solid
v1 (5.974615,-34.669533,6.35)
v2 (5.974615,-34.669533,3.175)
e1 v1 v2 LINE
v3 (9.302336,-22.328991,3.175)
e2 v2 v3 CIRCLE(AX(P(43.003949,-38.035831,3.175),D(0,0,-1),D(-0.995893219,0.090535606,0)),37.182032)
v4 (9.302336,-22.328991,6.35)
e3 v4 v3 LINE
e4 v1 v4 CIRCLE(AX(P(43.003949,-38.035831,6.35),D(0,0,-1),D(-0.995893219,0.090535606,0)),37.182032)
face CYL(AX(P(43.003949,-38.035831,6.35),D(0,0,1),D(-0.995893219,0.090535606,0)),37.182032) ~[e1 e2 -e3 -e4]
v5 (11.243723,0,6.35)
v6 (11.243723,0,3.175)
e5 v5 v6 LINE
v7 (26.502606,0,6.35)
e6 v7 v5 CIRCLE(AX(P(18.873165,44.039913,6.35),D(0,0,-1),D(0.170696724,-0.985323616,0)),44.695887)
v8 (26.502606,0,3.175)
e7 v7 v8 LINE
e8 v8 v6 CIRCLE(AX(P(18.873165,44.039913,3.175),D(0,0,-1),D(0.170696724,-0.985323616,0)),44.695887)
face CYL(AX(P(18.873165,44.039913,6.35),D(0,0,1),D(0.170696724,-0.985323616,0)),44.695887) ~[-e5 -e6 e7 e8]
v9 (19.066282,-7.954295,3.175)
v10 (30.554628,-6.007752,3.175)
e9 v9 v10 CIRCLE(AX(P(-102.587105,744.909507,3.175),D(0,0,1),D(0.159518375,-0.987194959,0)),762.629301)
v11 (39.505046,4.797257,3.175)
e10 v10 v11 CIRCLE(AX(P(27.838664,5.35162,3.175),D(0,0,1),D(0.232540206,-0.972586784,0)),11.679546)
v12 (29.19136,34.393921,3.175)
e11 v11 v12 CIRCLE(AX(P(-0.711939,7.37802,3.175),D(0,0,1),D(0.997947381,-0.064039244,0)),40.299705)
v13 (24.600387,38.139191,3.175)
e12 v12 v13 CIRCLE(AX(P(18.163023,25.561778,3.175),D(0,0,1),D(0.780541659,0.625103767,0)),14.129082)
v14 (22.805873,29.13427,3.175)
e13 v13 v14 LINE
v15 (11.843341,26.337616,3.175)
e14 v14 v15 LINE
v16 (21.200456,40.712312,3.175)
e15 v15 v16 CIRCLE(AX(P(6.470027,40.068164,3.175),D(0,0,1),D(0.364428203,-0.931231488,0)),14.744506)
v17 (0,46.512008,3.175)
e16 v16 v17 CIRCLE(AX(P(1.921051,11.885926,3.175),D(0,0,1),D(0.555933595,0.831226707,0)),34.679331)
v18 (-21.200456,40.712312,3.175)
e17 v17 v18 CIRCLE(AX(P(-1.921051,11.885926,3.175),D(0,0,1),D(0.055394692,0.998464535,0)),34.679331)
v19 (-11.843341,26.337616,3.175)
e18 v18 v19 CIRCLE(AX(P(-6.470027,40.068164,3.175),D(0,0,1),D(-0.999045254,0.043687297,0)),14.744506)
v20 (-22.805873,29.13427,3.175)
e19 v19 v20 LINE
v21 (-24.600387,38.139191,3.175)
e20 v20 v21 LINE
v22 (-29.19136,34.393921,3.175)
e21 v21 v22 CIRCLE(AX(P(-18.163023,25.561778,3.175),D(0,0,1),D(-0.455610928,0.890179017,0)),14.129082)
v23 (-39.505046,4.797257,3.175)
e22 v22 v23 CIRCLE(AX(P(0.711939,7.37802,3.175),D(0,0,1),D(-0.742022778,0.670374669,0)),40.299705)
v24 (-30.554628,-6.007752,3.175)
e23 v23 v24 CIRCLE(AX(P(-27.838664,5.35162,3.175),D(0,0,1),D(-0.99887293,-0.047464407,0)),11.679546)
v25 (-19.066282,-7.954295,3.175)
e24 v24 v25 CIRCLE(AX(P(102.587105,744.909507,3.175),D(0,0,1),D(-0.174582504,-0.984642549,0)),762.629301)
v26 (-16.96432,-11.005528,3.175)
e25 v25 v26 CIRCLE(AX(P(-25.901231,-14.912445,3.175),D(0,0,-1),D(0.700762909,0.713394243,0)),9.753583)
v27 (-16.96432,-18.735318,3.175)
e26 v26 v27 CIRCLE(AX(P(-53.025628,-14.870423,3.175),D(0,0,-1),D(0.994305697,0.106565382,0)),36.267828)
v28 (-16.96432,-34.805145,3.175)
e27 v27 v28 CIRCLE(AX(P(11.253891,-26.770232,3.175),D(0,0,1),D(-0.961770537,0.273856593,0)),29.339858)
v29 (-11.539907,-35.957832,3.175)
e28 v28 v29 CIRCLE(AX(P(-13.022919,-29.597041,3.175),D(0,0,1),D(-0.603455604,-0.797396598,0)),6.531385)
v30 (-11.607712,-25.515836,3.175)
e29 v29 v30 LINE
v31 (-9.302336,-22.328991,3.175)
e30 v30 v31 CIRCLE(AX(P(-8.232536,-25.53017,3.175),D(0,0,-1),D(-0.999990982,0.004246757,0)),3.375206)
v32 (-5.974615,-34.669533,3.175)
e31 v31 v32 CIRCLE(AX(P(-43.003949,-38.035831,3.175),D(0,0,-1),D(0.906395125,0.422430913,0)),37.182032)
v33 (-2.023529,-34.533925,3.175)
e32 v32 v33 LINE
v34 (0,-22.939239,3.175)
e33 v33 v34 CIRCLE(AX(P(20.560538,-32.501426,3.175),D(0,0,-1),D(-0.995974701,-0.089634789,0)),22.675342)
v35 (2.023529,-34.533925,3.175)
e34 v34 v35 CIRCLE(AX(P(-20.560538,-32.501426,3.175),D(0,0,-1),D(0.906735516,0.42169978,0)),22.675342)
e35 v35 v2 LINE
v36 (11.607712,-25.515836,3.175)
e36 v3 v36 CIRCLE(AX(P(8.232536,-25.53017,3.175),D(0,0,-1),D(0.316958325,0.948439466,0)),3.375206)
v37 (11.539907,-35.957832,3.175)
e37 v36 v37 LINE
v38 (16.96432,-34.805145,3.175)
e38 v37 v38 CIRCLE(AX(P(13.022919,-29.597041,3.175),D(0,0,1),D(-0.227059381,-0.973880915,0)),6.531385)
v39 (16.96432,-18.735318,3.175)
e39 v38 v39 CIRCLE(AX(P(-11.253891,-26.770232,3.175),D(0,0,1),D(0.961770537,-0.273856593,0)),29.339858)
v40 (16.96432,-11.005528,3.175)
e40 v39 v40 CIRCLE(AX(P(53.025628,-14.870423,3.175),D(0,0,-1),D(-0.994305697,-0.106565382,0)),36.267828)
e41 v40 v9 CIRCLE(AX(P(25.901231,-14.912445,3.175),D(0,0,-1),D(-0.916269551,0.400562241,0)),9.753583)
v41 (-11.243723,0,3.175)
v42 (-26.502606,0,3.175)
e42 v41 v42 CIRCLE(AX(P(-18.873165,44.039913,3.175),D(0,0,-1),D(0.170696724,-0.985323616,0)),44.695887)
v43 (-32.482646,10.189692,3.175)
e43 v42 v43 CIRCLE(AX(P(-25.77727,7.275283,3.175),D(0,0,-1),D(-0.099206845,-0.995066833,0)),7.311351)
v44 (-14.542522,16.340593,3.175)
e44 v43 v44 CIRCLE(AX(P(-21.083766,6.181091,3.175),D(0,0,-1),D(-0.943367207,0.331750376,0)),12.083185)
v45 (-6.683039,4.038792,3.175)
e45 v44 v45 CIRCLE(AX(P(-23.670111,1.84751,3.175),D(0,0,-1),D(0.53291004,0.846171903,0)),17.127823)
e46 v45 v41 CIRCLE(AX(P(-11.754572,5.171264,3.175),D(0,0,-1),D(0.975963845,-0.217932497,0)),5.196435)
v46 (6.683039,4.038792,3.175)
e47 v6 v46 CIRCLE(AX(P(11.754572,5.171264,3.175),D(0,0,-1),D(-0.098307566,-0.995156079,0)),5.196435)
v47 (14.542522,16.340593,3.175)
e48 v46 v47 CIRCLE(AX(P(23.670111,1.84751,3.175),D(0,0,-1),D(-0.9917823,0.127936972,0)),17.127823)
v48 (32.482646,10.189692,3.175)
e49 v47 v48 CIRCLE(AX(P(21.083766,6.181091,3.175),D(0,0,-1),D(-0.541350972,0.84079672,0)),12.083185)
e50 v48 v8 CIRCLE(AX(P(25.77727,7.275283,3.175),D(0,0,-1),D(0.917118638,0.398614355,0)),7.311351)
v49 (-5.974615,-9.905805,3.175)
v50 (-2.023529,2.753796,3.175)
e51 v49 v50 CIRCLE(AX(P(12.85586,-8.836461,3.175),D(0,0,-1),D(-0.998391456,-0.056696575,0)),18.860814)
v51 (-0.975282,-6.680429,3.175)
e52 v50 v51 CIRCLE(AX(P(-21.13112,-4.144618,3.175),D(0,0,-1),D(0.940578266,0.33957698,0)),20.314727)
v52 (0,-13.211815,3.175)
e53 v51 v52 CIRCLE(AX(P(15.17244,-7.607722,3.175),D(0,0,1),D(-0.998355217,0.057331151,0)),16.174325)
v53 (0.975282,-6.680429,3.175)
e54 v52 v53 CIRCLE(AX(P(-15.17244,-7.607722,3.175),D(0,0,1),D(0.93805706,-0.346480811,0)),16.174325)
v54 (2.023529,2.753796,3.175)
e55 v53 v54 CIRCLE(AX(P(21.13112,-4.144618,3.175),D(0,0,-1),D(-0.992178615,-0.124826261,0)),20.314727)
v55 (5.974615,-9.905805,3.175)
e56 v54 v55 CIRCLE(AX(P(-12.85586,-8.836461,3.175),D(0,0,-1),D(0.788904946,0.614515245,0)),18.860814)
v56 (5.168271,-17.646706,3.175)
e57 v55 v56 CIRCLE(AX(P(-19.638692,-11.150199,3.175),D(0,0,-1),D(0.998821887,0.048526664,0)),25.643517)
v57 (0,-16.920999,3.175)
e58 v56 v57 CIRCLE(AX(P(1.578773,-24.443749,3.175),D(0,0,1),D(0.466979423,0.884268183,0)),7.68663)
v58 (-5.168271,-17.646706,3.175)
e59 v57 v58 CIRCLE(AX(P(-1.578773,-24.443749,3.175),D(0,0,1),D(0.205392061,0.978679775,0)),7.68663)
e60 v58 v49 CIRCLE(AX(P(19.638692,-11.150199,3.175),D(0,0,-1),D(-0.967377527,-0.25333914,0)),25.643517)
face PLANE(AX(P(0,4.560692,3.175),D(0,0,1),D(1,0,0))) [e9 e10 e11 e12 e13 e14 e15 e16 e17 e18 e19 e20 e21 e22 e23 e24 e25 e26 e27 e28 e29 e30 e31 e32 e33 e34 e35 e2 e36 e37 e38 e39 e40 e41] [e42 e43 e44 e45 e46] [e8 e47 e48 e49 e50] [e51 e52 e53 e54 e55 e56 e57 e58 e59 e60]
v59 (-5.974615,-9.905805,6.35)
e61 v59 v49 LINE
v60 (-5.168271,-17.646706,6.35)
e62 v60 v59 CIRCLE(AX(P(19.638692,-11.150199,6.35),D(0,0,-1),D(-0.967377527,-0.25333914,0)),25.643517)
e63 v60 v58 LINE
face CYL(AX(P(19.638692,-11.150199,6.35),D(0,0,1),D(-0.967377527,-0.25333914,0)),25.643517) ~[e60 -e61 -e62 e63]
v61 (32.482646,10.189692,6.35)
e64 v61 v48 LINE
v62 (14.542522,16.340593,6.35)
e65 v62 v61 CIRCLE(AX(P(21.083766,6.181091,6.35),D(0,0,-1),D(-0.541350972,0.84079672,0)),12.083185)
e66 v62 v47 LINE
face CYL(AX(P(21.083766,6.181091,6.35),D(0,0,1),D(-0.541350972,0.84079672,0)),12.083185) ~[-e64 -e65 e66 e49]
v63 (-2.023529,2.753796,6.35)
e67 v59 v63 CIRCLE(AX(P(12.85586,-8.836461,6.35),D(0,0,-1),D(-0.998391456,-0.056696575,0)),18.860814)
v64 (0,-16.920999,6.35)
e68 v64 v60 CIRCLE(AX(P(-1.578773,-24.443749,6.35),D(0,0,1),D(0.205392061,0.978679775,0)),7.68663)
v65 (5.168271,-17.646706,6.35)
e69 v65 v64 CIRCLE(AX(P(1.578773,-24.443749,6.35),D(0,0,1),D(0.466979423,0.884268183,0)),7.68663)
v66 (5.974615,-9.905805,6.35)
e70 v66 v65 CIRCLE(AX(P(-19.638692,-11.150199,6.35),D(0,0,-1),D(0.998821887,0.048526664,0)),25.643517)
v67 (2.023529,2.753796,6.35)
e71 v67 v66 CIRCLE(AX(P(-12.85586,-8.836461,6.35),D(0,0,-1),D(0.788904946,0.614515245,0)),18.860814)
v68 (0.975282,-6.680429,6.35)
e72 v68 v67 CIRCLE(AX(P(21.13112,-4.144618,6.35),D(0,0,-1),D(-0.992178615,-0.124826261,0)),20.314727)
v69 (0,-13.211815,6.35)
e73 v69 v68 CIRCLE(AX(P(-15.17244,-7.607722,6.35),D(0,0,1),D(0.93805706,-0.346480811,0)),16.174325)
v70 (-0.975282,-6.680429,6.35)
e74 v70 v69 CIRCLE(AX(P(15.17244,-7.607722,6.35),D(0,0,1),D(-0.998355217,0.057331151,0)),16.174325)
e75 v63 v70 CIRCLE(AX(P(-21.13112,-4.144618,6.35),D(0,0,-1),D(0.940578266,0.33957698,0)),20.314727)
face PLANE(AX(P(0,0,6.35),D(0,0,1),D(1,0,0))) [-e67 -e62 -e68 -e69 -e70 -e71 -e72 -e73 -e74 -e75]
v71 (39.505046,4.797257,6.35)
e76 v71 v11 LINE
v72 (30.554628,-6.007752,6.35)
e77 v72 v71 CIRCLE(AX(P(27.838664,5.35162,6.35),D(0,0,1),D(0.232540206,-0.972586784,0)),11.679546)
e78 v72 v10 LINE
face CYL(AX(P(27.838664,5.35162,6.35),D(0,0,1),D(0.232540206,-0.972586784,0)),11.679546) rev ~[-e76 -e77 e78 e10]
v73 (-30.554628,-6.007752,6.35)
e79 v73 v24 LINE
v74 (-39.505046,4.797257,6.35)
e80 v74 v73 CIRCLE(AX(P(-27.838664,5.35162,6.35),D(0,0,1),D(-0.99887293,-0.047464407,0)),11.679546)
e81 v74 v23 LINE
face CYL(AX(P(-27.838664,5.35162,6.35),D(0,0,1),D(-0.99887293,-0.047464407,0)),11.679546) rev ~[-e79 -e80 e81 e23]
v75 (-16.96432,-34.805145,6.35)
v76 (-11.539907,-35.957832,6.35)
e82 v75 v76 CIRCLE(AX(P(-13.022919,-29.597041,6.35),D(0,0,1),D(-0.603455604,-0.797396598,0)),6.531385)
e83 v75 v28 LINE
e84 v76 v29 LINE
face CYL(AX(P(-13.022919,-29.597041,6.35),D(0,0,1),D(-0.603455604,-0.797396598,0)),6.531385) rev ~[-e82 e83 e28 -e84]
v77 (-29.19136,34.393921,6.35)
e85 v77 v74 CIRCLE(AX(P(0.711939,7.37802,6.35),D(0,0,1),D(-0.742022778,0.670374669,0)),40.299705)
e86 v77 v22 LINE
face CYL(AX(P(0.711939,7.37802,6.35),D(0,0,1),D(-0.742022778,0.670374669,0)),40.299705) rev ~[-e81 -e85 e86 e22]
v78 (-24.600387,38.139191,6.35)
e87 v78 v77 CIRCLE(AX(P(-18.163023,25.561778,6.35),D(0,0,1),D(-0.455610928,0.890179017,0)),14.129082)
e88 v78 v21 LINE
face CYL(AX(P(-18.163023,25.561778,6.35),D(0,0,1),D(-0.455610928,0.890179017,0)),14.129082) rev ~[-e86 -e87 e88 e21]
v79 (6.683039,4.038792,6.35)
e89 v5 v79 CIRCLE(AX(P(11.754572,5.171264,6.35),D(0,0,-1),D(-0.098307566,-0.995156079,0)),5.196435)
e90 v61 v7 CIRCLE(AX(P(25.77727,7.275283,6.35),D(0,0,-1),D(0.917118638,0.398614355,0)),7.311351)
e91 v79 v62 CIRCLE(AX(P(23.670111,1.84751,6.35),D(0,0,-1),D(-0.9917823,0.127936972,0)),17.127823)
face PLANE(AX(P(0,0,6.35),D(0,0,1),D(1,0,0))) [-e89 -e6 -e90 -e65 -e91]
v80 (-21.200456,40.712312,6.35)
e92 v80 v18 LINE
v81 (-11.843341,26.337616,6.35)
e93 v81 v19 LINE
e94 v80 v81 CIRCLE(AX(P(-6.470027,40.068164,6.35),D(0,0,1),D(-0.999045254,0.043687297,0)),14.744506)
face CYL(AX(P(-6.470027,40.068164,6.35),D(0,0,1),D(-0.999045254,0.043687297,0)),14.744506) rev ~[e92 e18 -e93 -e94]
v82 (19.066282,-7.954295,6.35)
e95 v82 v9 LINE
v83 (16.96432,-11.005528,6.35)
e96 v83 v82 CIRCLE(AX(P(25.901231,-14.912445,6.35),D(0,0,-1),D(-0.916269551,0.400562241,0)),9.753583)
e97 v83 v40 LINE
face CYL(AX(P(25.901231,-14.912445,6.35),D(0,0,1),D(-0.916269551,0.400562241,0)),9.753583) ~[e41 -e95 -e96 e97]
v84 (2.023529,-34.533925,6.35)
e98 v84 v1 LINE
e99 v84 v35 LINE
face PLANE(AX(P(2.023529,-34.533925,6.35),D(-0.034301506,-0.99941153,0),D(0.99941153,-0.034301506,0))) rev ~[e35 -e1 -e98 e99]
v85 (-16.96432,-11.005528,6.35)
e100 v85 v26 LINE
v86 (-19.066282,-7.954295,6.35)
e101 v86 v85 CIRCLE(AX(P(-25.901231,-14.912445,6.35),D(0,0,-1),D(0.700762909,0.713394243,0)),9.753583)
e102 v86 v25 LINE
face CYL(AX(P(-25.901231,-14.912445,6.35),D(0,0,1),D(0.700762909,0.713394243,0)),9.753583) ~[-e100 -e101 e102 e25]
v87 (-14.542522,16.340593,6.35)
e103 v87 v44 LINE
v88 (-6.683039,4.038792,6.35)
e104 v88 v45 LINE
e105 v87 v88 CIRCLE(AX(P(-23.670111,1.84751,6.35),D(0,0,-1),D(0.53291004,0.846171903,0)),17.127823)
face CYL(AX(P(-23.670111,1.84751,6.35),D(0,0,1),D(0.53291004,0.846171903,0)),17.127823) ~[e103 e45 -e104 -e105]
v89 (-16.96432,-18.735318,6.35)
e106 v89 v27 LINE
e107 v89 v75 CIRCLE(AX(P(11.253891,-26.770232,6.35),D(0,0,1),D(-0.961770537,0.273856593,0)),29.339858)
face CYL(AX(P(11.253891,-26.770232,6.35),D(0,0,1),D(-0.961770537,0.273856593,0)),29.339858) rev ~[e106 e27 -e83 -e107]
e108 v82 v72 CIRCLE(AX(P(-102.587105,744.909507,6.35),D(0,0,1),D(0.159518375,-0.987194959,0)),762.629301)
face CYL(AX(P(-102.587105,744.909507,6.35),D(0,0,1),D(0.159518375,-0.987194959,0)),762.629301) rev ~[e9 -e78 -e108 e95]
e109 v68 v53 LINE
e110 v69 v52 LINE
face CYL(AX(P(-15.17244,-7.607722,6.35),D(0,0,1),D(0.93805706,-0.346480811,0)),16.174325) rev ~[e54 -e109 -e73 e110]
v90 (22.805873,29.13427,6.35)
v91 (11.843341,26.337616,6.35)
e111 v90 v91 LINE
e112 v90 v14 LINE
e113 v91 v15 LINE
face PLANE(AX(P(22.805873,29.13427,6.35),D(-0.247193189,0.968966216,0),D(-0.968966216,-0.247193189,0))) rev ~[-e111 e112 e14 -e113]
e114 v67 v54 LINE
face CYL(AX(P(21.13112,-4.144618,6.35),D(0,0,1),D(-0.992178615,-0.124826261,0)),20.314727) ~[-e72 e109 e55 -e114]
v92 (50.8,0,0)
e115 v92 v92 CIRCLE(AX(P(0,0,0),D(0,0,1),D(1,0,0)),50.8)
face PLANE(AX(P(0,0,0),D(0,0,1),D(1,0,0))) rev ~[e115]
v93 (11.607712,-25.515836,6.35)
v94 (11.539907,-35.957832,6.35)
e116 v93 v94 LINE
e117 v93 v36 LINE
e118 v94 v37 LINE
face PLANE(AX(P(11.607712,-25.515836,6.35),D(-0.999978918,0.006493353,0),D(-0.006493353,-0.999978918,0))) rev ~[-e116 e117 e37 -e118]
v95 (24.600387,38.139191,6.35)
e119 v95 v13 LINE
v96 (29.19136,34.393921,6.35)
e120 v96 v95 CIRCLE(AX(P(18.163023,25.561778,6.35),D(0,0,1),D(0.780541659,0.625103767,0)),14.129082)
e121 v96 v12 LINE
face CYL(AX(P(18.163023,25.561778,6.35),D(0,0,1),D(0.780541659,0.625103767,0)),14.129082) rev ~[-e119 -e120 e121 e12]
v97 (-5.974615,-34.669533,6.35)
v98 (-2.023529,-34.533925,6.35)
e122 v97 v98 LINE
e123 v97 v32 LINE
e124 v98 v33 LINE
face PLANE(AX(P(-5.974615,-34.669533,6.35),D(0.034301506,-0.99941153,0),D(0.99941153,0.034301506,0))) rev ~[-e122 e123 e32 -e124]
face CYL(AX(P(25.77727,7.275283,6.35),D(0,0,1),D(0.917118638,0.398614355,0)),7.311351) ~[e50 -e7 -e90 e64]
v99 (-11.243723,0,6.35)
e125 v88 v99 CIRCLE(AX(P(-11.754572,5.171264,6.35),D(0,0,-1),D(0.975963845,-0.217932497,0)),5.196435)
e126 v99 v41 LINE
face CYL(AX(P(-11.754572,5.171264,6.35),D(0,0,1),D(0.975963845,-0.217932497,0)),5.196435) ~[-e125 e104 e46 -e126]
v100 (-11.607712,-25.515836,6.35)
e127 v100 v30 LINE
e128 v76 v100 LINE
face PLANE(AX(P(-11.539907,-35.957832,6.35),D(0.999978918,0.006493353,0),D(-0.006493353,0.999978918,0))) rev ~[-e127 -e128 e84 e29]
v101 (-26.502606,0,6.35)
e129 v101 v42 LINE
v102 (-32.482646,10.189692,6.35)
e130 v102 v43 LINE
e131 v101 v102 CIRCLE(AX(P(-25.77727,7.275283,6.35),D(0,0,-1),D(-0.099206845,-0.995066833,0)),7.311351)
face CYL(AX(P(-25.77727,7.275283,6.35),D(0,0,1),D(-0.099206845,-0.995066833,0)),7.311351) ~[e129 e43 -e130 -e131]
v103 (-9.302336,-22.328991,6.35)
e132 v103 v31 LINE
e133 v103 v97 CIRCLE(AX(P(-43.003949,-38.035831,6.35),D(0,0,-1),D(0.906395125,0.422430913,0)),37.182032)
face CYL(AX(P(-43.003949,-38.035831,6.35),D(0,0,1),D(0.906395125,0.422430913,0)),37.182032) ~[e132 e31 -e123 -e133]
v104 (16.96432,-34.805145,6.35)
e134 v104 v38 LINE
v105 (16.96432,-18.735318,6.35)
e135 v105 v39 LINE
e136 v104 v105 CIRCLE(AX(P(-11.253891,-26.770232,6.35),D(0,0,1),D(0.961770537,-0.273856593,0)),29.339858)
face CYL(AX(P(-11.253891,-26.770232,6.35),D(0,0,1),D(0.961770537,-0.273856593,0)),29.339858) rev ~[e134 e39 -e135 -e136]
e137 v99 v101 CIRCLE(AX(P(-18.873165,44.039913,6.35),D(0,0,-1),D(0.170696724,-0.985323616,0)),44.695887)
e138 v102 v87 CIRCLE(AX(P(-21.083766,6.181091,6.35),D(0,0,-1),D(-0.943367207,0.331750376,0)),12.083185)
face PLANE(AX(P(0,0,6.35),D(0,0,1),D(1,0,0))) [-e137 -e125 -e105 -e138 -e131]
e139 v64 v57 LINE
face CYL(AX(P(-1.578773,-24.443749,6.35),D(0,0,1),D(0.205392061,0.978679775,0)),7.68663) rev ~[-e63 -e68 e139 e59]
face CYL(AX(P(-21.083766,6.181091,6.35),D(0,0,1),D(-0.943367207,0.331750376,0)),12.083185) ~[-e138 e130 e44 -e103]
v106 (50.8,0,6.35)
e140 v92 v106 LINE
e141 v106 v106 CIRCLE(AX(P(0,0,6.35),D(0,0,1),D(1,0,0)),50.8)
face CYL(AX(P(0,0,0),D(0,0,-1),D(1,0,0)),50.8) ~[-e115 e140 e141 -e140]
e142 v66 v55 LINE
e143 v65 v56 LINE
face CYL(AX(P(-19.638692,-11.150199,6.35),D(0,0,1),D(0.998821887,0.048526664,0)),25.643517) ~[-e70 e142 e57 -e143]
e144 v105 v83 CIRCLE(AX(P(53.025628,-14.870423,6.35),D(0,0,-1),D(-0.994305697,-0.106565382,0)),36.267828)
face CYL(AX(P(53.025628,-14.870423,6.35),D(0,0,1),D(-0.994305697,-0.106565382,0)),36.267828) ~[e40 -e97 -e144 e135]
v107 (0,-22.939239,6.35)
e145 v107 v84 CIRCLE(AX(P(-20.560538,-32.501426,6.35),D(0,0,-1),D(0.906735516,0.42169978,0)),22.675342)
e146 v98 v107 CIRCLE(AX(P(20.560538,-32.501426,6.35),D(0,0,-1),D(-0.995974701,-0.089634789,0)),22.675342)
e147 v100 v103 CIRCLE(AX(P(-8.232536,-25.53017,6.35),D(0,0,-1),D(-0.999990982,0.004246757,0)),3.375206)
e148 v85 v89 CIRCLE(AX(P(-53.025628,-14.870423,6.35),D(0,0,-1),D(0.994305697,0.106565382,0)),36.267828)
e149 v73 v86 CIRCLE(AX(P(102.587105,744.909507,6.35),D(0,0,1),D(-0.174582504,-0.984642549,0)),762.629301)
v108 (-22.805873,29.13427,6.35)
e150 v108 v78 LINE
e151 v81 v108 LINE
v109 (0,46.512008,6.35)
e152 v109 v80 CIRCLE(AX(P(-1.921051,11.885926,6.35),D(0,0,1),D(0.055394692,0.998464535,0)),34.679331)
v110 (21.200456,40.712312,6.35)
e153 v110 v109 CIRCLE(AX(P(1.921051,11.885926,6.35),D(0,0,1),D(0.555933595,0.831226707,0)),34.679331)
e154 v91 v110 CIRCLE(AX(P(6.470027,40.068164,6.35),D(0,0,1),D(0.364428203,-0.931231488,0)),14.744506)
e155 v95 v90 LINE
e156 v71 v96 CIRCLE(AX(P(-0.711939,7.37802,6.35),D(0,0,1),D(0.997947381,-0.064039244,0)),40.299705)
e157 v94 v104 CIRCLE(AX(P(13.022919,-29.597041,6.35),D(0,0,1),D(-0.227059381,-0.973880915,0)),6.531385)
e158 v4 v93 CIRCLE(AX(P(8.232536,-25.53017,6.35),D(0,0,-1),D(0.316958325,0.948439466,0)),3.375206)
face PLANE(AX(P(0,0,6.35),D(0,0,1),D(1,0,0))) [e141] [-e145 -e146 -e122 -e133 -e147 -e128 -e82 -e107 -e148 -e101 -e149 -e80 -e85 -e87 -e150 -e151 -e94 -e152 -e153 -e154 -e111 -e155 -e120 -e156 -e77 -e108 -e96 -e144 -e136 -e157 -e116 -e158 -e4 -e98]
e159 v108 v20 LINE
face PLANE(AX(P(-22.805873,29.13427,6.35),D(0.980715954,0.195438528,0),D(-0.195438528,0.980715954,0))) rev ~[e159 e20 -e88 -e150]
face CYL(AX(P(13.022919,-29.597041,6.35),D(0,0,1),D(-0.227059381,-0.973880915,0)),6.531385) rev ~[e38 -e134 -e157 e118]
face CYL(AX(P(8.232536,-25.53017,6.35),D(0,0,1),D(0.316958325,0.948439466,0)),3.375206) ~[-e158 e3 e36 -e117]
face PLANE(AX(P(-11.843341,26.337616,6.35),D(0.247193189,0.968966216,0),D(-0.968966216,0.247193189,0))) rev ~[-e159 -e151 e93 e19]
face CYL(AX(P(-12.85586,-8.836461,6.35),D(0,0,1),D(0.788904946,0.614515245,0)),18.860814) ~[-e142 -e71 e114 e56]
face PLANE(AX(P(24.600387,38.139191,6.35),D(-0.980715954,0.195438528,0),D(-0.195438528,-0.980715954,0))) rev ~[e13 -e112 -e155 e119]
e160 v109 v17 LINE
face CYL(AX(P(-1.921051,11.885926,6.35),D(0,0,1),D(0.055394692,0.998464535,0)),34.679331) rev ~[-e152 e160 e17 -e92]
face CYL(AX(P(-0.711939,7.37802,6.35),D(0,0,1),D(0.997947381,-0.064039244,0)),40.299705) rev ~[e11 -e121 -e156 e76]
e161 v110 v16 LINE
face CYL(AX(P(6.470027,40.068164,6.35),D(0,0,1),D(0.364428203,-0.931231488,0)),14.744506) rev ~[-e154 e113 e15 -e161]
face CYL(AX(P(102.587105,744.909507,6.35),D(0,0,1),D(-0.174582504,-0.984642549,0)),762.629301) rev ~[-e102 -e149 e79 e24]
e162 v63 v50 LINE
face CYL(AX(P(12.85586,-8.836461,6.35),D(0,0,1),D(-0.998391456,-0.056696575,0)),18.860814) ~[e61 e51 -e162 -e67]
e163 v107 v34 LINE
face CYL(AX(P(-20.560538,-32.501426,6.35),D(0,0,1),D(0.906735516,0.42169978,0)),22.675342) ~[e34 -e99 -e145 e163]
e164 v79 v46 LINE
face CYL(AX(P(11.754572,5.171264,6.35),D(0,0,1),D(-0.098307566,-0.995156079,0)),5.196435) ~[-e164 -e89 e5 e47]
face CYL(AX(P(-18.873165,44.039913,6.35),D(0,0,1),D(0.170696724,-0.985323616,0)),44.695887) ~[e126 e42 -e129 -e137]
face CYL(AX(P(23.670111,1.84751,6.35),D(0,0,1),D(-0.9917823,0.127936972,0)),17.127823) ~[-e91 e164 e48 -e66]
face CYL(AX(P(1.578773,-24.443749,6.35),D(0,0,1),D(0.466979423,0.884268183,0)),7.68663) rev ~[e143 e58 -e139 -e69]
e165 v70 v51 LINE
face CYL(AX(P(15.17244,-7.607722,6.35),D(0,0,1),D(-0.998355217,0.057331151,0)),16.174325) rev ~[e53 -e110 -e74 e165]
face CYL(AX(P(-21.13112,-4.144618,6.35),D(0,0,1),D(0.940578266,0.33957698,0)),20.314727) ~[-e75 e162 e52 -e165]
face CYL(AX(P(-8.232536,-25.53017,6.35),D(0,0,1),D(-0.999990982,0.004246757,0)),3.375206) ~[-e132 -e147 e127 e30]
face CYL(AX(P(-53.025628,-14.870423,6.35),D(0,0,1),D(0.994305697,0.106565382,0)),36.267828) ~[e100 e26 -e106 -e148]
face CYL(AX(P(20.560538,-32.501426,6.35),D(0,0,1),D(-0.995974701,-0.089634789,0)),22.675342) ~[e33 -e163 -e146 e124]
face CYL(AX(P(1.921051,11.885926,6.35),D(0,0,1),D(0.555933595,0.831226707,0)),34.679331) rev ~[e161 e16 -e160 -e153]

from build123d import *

# Parameters (mm, degrees)
F0_R     = 50.8
F1_DEPTH = 6.35
F3_DEPTH = 3.175


with BuildPart() as f1:
    # F0 (on Top) → F1 (new body)
    with BuildSketch(Plane.XY):
        Circle(F0_R)
    extrude(amount=F1_DEPTH)

    # F2 (on face) → F3 (cut)
    with BuildSketch(Plane.XY.offset(6.35)):
        with BuildLine():
            ThreePointArc((-2.023529, -34.533925), (-1.777175, -28.603001), (0, -22.939239))
            ThreePointArc((0, -22.939239), (1.777175, -28.603001), (2.023529, -34.533925))
            Line((2.023529, -34.533925), (5.974615, -34.669533))
            ThreePointArc((5.974615, -34.669533), (7.104242, -28.355202), (9.302336, -22.328991))
            ThreePointArc((9.302336, -22.328991), (10.967211, -23.551895), (11.607712, -25.515836))
            Line((11.607712, -25.515836), (11.539907, -35.957832))
            ThreePointArc((11.539907, -35.957832), (14.380524, -35.985773), (16.96432, -34.805145))
            ThreePointArc((16.96432, -34.805145), (18.085967, -26.770231), (16.96432, -18.735318))
            ThreePointArc((16.96432, -18.735318), (16.7578, -14.870423), (16.96432, -11.005528))
            ThreePointArc((16.96432, -11.005528), (17.869083, -9.379184), (19.066282, -7.954295))
            ThreePointArc((19.066282, -7.954295), (24.814172, -7.002965), (30.554628, -6.007752))
            ThreePointArc((30.554628, -6.007752), (36.833108, -2.099002), (39.505046, 4.797257))
            ThreePointArc((39.505046, 4.797257), (37.343339, 20.639318), (29.19136, 34.393921))
            ThreePointArc((29.19136, 34.393921), (27.094397, 36.509907), (24.600387, 38.139191))
            Line((24.600387, 38.139191), (22.805873, 29.13427))
            Line((22.805873, 29.13427), (11.843341, 26.337616))
            ThreePointArc((11.843341, 26.337616), (18.827134, 32.024386), (21.200456, 40.712312))
            ThreePointArc((21.200456, 40.712312), (11.071856, 45.336169), (0, 46.512008))
            ThreePointArc((0, 46.512008), (-11.071856, 45.336169), (-21.200456, 40.712312))
            ThreePointArc((-21.200456, 40.712312), (-18.827134, 32.024386), (-11.843341, 26.337616))
            Line((-11.843341, 26.337616), (-22.805873, 29.13427))
            Line((-22.805873, 29.13427), (-24.600387, 38.139191))
            ThreePointArc((-24.600387, 38.139191), (-27.094397, 36.509907), (-29.19136, 34.393921))
            ThreePointArc((-29.19136, 34.393921), (-37.343339, 20.639318), (-39.505046, 4.797257))
            ThreePointArc((-39.505046, 4.797257), (-36.833108, -2.099002), (-30.554628, -6.007752))
            ThreePointArc((-30.554628, -6.007752), (-24.814172, -7.002965), (-19.066282, -7.954295))
            ThreePointArc((-19.066282, -7.954295), (-17.869083, -9.379184), (-16.96432, -11.005528))
            ThreePointArc((-16.96432, -11.005528), (-16.7578, -14.870423), (-16.96432, -18.735318))
            ThreePointArc((-16.96432, -18.735318), (-18.085967, -26.770231), (-16.96432, -34.805145))
            ThreePointArc((-16.96432, -34.805145), (-14.380524, -35.985773), (-11.539907, -35.957832))
            Line((-11.539907, -35.957832), (-11.607712, -25.515836))
            ThreePointArc((-11.607712, -25.515836), (-10.967211, -23.551895), (-9.302336, -22.328991))
            ThreePointArc((-9.302336, -22.328991), (-7.104242, -28.355202), (-5.974615, -34.669533))
            Line((-5.974615, -34.669533), (-2.023529, -34.533925))
        make_face()
        with BuildLine():
            ThreePointArc((-2.023529, 2.753796), (-0.940643, -1.901231), (-0.975282, -6.680429))
            ThreePointArc((-0.975282, -6.680429), (-0.824525, -9.996426), (0, -13.211815))
            ThreePointArc((0, -13.211815), (0.824525, -9.996426), (0.975282, -6.680429))
            ThreePointArc((0.975282, -6.680429), (0.940643, -1.901231), (2.023529, 2.753796))
            ThreePointArc((2.023529, 2.753796), (5.148448, -3.217282), (5.974615, -9.905805))
            ThreePointArc((5.974615, -9.905805), (5.866823, -13.807024), (5.168271, -17.646706))
            ThreePointArc((5.168271, -17.646706), (2.647612, -16.831793), (0, -16.920999))
            ThreePointArc((0, -16.920999), (-2.647612, -16.831793), (-5.168271, -17.646706))
            ThreePointArc((-5.168271, -17.646706), (-5.866823, -13.807024), (-5.974615, -9.905805))
            ThreePointArc((-5.974615, -9.905805), (-5.148448, -3.217282), (-2.023529, 2.753796))
        make_face(mode=Mode.SUBTRACT)
        with BuildLine():
            ThreePointArc((-26.502606, 0), (-32.082928, 3.574671), (-32.482646, 10.189692))
            ThreePointArc((-32.482646, 10.189692), (-25.002638, 17.61113), (-14.542522, 16.340593))
            ThreePointArc((-14.542522, 16.340593), (-9.236558, 11.068946), (-6.683039, 4.038792))
            ThreePointArc((-6.683039, 4.038792), (-8.309473, 1.28099), (-11.243723, 0))
            ThreePointArc((-11.243723, 0), (-18.873164, -0.655974), (-26.502606, 0))
        make_face(mode=Mode.SUBTRACT)
        with BuildLine():
            ThreePointArc((11.243723, 0), (8.309473, 1.28099), (6.683039, 4.038792))
            ThreePointArc((6.683039, 4.038792), (9.236558, 11.068946), (14.542522, 16.340593))
            ThreePointArc((14.542522, 16.340593), (25.002638, 17.61113), (32.482646, 10.189692))
            ThreePointArc((32.482646, 10.189692), (32.082928, 3.574671), (26.502606, 0))
            ThreePointArc((26.502606, 0), (18.873164, -0.655974), (11.243723, 0))
        make_face(mode=Mode.SUBTRACT)
    extrude(amount=-F3_DEPTH, mode=Mode.SUBTRACT)


solid = f1.part
